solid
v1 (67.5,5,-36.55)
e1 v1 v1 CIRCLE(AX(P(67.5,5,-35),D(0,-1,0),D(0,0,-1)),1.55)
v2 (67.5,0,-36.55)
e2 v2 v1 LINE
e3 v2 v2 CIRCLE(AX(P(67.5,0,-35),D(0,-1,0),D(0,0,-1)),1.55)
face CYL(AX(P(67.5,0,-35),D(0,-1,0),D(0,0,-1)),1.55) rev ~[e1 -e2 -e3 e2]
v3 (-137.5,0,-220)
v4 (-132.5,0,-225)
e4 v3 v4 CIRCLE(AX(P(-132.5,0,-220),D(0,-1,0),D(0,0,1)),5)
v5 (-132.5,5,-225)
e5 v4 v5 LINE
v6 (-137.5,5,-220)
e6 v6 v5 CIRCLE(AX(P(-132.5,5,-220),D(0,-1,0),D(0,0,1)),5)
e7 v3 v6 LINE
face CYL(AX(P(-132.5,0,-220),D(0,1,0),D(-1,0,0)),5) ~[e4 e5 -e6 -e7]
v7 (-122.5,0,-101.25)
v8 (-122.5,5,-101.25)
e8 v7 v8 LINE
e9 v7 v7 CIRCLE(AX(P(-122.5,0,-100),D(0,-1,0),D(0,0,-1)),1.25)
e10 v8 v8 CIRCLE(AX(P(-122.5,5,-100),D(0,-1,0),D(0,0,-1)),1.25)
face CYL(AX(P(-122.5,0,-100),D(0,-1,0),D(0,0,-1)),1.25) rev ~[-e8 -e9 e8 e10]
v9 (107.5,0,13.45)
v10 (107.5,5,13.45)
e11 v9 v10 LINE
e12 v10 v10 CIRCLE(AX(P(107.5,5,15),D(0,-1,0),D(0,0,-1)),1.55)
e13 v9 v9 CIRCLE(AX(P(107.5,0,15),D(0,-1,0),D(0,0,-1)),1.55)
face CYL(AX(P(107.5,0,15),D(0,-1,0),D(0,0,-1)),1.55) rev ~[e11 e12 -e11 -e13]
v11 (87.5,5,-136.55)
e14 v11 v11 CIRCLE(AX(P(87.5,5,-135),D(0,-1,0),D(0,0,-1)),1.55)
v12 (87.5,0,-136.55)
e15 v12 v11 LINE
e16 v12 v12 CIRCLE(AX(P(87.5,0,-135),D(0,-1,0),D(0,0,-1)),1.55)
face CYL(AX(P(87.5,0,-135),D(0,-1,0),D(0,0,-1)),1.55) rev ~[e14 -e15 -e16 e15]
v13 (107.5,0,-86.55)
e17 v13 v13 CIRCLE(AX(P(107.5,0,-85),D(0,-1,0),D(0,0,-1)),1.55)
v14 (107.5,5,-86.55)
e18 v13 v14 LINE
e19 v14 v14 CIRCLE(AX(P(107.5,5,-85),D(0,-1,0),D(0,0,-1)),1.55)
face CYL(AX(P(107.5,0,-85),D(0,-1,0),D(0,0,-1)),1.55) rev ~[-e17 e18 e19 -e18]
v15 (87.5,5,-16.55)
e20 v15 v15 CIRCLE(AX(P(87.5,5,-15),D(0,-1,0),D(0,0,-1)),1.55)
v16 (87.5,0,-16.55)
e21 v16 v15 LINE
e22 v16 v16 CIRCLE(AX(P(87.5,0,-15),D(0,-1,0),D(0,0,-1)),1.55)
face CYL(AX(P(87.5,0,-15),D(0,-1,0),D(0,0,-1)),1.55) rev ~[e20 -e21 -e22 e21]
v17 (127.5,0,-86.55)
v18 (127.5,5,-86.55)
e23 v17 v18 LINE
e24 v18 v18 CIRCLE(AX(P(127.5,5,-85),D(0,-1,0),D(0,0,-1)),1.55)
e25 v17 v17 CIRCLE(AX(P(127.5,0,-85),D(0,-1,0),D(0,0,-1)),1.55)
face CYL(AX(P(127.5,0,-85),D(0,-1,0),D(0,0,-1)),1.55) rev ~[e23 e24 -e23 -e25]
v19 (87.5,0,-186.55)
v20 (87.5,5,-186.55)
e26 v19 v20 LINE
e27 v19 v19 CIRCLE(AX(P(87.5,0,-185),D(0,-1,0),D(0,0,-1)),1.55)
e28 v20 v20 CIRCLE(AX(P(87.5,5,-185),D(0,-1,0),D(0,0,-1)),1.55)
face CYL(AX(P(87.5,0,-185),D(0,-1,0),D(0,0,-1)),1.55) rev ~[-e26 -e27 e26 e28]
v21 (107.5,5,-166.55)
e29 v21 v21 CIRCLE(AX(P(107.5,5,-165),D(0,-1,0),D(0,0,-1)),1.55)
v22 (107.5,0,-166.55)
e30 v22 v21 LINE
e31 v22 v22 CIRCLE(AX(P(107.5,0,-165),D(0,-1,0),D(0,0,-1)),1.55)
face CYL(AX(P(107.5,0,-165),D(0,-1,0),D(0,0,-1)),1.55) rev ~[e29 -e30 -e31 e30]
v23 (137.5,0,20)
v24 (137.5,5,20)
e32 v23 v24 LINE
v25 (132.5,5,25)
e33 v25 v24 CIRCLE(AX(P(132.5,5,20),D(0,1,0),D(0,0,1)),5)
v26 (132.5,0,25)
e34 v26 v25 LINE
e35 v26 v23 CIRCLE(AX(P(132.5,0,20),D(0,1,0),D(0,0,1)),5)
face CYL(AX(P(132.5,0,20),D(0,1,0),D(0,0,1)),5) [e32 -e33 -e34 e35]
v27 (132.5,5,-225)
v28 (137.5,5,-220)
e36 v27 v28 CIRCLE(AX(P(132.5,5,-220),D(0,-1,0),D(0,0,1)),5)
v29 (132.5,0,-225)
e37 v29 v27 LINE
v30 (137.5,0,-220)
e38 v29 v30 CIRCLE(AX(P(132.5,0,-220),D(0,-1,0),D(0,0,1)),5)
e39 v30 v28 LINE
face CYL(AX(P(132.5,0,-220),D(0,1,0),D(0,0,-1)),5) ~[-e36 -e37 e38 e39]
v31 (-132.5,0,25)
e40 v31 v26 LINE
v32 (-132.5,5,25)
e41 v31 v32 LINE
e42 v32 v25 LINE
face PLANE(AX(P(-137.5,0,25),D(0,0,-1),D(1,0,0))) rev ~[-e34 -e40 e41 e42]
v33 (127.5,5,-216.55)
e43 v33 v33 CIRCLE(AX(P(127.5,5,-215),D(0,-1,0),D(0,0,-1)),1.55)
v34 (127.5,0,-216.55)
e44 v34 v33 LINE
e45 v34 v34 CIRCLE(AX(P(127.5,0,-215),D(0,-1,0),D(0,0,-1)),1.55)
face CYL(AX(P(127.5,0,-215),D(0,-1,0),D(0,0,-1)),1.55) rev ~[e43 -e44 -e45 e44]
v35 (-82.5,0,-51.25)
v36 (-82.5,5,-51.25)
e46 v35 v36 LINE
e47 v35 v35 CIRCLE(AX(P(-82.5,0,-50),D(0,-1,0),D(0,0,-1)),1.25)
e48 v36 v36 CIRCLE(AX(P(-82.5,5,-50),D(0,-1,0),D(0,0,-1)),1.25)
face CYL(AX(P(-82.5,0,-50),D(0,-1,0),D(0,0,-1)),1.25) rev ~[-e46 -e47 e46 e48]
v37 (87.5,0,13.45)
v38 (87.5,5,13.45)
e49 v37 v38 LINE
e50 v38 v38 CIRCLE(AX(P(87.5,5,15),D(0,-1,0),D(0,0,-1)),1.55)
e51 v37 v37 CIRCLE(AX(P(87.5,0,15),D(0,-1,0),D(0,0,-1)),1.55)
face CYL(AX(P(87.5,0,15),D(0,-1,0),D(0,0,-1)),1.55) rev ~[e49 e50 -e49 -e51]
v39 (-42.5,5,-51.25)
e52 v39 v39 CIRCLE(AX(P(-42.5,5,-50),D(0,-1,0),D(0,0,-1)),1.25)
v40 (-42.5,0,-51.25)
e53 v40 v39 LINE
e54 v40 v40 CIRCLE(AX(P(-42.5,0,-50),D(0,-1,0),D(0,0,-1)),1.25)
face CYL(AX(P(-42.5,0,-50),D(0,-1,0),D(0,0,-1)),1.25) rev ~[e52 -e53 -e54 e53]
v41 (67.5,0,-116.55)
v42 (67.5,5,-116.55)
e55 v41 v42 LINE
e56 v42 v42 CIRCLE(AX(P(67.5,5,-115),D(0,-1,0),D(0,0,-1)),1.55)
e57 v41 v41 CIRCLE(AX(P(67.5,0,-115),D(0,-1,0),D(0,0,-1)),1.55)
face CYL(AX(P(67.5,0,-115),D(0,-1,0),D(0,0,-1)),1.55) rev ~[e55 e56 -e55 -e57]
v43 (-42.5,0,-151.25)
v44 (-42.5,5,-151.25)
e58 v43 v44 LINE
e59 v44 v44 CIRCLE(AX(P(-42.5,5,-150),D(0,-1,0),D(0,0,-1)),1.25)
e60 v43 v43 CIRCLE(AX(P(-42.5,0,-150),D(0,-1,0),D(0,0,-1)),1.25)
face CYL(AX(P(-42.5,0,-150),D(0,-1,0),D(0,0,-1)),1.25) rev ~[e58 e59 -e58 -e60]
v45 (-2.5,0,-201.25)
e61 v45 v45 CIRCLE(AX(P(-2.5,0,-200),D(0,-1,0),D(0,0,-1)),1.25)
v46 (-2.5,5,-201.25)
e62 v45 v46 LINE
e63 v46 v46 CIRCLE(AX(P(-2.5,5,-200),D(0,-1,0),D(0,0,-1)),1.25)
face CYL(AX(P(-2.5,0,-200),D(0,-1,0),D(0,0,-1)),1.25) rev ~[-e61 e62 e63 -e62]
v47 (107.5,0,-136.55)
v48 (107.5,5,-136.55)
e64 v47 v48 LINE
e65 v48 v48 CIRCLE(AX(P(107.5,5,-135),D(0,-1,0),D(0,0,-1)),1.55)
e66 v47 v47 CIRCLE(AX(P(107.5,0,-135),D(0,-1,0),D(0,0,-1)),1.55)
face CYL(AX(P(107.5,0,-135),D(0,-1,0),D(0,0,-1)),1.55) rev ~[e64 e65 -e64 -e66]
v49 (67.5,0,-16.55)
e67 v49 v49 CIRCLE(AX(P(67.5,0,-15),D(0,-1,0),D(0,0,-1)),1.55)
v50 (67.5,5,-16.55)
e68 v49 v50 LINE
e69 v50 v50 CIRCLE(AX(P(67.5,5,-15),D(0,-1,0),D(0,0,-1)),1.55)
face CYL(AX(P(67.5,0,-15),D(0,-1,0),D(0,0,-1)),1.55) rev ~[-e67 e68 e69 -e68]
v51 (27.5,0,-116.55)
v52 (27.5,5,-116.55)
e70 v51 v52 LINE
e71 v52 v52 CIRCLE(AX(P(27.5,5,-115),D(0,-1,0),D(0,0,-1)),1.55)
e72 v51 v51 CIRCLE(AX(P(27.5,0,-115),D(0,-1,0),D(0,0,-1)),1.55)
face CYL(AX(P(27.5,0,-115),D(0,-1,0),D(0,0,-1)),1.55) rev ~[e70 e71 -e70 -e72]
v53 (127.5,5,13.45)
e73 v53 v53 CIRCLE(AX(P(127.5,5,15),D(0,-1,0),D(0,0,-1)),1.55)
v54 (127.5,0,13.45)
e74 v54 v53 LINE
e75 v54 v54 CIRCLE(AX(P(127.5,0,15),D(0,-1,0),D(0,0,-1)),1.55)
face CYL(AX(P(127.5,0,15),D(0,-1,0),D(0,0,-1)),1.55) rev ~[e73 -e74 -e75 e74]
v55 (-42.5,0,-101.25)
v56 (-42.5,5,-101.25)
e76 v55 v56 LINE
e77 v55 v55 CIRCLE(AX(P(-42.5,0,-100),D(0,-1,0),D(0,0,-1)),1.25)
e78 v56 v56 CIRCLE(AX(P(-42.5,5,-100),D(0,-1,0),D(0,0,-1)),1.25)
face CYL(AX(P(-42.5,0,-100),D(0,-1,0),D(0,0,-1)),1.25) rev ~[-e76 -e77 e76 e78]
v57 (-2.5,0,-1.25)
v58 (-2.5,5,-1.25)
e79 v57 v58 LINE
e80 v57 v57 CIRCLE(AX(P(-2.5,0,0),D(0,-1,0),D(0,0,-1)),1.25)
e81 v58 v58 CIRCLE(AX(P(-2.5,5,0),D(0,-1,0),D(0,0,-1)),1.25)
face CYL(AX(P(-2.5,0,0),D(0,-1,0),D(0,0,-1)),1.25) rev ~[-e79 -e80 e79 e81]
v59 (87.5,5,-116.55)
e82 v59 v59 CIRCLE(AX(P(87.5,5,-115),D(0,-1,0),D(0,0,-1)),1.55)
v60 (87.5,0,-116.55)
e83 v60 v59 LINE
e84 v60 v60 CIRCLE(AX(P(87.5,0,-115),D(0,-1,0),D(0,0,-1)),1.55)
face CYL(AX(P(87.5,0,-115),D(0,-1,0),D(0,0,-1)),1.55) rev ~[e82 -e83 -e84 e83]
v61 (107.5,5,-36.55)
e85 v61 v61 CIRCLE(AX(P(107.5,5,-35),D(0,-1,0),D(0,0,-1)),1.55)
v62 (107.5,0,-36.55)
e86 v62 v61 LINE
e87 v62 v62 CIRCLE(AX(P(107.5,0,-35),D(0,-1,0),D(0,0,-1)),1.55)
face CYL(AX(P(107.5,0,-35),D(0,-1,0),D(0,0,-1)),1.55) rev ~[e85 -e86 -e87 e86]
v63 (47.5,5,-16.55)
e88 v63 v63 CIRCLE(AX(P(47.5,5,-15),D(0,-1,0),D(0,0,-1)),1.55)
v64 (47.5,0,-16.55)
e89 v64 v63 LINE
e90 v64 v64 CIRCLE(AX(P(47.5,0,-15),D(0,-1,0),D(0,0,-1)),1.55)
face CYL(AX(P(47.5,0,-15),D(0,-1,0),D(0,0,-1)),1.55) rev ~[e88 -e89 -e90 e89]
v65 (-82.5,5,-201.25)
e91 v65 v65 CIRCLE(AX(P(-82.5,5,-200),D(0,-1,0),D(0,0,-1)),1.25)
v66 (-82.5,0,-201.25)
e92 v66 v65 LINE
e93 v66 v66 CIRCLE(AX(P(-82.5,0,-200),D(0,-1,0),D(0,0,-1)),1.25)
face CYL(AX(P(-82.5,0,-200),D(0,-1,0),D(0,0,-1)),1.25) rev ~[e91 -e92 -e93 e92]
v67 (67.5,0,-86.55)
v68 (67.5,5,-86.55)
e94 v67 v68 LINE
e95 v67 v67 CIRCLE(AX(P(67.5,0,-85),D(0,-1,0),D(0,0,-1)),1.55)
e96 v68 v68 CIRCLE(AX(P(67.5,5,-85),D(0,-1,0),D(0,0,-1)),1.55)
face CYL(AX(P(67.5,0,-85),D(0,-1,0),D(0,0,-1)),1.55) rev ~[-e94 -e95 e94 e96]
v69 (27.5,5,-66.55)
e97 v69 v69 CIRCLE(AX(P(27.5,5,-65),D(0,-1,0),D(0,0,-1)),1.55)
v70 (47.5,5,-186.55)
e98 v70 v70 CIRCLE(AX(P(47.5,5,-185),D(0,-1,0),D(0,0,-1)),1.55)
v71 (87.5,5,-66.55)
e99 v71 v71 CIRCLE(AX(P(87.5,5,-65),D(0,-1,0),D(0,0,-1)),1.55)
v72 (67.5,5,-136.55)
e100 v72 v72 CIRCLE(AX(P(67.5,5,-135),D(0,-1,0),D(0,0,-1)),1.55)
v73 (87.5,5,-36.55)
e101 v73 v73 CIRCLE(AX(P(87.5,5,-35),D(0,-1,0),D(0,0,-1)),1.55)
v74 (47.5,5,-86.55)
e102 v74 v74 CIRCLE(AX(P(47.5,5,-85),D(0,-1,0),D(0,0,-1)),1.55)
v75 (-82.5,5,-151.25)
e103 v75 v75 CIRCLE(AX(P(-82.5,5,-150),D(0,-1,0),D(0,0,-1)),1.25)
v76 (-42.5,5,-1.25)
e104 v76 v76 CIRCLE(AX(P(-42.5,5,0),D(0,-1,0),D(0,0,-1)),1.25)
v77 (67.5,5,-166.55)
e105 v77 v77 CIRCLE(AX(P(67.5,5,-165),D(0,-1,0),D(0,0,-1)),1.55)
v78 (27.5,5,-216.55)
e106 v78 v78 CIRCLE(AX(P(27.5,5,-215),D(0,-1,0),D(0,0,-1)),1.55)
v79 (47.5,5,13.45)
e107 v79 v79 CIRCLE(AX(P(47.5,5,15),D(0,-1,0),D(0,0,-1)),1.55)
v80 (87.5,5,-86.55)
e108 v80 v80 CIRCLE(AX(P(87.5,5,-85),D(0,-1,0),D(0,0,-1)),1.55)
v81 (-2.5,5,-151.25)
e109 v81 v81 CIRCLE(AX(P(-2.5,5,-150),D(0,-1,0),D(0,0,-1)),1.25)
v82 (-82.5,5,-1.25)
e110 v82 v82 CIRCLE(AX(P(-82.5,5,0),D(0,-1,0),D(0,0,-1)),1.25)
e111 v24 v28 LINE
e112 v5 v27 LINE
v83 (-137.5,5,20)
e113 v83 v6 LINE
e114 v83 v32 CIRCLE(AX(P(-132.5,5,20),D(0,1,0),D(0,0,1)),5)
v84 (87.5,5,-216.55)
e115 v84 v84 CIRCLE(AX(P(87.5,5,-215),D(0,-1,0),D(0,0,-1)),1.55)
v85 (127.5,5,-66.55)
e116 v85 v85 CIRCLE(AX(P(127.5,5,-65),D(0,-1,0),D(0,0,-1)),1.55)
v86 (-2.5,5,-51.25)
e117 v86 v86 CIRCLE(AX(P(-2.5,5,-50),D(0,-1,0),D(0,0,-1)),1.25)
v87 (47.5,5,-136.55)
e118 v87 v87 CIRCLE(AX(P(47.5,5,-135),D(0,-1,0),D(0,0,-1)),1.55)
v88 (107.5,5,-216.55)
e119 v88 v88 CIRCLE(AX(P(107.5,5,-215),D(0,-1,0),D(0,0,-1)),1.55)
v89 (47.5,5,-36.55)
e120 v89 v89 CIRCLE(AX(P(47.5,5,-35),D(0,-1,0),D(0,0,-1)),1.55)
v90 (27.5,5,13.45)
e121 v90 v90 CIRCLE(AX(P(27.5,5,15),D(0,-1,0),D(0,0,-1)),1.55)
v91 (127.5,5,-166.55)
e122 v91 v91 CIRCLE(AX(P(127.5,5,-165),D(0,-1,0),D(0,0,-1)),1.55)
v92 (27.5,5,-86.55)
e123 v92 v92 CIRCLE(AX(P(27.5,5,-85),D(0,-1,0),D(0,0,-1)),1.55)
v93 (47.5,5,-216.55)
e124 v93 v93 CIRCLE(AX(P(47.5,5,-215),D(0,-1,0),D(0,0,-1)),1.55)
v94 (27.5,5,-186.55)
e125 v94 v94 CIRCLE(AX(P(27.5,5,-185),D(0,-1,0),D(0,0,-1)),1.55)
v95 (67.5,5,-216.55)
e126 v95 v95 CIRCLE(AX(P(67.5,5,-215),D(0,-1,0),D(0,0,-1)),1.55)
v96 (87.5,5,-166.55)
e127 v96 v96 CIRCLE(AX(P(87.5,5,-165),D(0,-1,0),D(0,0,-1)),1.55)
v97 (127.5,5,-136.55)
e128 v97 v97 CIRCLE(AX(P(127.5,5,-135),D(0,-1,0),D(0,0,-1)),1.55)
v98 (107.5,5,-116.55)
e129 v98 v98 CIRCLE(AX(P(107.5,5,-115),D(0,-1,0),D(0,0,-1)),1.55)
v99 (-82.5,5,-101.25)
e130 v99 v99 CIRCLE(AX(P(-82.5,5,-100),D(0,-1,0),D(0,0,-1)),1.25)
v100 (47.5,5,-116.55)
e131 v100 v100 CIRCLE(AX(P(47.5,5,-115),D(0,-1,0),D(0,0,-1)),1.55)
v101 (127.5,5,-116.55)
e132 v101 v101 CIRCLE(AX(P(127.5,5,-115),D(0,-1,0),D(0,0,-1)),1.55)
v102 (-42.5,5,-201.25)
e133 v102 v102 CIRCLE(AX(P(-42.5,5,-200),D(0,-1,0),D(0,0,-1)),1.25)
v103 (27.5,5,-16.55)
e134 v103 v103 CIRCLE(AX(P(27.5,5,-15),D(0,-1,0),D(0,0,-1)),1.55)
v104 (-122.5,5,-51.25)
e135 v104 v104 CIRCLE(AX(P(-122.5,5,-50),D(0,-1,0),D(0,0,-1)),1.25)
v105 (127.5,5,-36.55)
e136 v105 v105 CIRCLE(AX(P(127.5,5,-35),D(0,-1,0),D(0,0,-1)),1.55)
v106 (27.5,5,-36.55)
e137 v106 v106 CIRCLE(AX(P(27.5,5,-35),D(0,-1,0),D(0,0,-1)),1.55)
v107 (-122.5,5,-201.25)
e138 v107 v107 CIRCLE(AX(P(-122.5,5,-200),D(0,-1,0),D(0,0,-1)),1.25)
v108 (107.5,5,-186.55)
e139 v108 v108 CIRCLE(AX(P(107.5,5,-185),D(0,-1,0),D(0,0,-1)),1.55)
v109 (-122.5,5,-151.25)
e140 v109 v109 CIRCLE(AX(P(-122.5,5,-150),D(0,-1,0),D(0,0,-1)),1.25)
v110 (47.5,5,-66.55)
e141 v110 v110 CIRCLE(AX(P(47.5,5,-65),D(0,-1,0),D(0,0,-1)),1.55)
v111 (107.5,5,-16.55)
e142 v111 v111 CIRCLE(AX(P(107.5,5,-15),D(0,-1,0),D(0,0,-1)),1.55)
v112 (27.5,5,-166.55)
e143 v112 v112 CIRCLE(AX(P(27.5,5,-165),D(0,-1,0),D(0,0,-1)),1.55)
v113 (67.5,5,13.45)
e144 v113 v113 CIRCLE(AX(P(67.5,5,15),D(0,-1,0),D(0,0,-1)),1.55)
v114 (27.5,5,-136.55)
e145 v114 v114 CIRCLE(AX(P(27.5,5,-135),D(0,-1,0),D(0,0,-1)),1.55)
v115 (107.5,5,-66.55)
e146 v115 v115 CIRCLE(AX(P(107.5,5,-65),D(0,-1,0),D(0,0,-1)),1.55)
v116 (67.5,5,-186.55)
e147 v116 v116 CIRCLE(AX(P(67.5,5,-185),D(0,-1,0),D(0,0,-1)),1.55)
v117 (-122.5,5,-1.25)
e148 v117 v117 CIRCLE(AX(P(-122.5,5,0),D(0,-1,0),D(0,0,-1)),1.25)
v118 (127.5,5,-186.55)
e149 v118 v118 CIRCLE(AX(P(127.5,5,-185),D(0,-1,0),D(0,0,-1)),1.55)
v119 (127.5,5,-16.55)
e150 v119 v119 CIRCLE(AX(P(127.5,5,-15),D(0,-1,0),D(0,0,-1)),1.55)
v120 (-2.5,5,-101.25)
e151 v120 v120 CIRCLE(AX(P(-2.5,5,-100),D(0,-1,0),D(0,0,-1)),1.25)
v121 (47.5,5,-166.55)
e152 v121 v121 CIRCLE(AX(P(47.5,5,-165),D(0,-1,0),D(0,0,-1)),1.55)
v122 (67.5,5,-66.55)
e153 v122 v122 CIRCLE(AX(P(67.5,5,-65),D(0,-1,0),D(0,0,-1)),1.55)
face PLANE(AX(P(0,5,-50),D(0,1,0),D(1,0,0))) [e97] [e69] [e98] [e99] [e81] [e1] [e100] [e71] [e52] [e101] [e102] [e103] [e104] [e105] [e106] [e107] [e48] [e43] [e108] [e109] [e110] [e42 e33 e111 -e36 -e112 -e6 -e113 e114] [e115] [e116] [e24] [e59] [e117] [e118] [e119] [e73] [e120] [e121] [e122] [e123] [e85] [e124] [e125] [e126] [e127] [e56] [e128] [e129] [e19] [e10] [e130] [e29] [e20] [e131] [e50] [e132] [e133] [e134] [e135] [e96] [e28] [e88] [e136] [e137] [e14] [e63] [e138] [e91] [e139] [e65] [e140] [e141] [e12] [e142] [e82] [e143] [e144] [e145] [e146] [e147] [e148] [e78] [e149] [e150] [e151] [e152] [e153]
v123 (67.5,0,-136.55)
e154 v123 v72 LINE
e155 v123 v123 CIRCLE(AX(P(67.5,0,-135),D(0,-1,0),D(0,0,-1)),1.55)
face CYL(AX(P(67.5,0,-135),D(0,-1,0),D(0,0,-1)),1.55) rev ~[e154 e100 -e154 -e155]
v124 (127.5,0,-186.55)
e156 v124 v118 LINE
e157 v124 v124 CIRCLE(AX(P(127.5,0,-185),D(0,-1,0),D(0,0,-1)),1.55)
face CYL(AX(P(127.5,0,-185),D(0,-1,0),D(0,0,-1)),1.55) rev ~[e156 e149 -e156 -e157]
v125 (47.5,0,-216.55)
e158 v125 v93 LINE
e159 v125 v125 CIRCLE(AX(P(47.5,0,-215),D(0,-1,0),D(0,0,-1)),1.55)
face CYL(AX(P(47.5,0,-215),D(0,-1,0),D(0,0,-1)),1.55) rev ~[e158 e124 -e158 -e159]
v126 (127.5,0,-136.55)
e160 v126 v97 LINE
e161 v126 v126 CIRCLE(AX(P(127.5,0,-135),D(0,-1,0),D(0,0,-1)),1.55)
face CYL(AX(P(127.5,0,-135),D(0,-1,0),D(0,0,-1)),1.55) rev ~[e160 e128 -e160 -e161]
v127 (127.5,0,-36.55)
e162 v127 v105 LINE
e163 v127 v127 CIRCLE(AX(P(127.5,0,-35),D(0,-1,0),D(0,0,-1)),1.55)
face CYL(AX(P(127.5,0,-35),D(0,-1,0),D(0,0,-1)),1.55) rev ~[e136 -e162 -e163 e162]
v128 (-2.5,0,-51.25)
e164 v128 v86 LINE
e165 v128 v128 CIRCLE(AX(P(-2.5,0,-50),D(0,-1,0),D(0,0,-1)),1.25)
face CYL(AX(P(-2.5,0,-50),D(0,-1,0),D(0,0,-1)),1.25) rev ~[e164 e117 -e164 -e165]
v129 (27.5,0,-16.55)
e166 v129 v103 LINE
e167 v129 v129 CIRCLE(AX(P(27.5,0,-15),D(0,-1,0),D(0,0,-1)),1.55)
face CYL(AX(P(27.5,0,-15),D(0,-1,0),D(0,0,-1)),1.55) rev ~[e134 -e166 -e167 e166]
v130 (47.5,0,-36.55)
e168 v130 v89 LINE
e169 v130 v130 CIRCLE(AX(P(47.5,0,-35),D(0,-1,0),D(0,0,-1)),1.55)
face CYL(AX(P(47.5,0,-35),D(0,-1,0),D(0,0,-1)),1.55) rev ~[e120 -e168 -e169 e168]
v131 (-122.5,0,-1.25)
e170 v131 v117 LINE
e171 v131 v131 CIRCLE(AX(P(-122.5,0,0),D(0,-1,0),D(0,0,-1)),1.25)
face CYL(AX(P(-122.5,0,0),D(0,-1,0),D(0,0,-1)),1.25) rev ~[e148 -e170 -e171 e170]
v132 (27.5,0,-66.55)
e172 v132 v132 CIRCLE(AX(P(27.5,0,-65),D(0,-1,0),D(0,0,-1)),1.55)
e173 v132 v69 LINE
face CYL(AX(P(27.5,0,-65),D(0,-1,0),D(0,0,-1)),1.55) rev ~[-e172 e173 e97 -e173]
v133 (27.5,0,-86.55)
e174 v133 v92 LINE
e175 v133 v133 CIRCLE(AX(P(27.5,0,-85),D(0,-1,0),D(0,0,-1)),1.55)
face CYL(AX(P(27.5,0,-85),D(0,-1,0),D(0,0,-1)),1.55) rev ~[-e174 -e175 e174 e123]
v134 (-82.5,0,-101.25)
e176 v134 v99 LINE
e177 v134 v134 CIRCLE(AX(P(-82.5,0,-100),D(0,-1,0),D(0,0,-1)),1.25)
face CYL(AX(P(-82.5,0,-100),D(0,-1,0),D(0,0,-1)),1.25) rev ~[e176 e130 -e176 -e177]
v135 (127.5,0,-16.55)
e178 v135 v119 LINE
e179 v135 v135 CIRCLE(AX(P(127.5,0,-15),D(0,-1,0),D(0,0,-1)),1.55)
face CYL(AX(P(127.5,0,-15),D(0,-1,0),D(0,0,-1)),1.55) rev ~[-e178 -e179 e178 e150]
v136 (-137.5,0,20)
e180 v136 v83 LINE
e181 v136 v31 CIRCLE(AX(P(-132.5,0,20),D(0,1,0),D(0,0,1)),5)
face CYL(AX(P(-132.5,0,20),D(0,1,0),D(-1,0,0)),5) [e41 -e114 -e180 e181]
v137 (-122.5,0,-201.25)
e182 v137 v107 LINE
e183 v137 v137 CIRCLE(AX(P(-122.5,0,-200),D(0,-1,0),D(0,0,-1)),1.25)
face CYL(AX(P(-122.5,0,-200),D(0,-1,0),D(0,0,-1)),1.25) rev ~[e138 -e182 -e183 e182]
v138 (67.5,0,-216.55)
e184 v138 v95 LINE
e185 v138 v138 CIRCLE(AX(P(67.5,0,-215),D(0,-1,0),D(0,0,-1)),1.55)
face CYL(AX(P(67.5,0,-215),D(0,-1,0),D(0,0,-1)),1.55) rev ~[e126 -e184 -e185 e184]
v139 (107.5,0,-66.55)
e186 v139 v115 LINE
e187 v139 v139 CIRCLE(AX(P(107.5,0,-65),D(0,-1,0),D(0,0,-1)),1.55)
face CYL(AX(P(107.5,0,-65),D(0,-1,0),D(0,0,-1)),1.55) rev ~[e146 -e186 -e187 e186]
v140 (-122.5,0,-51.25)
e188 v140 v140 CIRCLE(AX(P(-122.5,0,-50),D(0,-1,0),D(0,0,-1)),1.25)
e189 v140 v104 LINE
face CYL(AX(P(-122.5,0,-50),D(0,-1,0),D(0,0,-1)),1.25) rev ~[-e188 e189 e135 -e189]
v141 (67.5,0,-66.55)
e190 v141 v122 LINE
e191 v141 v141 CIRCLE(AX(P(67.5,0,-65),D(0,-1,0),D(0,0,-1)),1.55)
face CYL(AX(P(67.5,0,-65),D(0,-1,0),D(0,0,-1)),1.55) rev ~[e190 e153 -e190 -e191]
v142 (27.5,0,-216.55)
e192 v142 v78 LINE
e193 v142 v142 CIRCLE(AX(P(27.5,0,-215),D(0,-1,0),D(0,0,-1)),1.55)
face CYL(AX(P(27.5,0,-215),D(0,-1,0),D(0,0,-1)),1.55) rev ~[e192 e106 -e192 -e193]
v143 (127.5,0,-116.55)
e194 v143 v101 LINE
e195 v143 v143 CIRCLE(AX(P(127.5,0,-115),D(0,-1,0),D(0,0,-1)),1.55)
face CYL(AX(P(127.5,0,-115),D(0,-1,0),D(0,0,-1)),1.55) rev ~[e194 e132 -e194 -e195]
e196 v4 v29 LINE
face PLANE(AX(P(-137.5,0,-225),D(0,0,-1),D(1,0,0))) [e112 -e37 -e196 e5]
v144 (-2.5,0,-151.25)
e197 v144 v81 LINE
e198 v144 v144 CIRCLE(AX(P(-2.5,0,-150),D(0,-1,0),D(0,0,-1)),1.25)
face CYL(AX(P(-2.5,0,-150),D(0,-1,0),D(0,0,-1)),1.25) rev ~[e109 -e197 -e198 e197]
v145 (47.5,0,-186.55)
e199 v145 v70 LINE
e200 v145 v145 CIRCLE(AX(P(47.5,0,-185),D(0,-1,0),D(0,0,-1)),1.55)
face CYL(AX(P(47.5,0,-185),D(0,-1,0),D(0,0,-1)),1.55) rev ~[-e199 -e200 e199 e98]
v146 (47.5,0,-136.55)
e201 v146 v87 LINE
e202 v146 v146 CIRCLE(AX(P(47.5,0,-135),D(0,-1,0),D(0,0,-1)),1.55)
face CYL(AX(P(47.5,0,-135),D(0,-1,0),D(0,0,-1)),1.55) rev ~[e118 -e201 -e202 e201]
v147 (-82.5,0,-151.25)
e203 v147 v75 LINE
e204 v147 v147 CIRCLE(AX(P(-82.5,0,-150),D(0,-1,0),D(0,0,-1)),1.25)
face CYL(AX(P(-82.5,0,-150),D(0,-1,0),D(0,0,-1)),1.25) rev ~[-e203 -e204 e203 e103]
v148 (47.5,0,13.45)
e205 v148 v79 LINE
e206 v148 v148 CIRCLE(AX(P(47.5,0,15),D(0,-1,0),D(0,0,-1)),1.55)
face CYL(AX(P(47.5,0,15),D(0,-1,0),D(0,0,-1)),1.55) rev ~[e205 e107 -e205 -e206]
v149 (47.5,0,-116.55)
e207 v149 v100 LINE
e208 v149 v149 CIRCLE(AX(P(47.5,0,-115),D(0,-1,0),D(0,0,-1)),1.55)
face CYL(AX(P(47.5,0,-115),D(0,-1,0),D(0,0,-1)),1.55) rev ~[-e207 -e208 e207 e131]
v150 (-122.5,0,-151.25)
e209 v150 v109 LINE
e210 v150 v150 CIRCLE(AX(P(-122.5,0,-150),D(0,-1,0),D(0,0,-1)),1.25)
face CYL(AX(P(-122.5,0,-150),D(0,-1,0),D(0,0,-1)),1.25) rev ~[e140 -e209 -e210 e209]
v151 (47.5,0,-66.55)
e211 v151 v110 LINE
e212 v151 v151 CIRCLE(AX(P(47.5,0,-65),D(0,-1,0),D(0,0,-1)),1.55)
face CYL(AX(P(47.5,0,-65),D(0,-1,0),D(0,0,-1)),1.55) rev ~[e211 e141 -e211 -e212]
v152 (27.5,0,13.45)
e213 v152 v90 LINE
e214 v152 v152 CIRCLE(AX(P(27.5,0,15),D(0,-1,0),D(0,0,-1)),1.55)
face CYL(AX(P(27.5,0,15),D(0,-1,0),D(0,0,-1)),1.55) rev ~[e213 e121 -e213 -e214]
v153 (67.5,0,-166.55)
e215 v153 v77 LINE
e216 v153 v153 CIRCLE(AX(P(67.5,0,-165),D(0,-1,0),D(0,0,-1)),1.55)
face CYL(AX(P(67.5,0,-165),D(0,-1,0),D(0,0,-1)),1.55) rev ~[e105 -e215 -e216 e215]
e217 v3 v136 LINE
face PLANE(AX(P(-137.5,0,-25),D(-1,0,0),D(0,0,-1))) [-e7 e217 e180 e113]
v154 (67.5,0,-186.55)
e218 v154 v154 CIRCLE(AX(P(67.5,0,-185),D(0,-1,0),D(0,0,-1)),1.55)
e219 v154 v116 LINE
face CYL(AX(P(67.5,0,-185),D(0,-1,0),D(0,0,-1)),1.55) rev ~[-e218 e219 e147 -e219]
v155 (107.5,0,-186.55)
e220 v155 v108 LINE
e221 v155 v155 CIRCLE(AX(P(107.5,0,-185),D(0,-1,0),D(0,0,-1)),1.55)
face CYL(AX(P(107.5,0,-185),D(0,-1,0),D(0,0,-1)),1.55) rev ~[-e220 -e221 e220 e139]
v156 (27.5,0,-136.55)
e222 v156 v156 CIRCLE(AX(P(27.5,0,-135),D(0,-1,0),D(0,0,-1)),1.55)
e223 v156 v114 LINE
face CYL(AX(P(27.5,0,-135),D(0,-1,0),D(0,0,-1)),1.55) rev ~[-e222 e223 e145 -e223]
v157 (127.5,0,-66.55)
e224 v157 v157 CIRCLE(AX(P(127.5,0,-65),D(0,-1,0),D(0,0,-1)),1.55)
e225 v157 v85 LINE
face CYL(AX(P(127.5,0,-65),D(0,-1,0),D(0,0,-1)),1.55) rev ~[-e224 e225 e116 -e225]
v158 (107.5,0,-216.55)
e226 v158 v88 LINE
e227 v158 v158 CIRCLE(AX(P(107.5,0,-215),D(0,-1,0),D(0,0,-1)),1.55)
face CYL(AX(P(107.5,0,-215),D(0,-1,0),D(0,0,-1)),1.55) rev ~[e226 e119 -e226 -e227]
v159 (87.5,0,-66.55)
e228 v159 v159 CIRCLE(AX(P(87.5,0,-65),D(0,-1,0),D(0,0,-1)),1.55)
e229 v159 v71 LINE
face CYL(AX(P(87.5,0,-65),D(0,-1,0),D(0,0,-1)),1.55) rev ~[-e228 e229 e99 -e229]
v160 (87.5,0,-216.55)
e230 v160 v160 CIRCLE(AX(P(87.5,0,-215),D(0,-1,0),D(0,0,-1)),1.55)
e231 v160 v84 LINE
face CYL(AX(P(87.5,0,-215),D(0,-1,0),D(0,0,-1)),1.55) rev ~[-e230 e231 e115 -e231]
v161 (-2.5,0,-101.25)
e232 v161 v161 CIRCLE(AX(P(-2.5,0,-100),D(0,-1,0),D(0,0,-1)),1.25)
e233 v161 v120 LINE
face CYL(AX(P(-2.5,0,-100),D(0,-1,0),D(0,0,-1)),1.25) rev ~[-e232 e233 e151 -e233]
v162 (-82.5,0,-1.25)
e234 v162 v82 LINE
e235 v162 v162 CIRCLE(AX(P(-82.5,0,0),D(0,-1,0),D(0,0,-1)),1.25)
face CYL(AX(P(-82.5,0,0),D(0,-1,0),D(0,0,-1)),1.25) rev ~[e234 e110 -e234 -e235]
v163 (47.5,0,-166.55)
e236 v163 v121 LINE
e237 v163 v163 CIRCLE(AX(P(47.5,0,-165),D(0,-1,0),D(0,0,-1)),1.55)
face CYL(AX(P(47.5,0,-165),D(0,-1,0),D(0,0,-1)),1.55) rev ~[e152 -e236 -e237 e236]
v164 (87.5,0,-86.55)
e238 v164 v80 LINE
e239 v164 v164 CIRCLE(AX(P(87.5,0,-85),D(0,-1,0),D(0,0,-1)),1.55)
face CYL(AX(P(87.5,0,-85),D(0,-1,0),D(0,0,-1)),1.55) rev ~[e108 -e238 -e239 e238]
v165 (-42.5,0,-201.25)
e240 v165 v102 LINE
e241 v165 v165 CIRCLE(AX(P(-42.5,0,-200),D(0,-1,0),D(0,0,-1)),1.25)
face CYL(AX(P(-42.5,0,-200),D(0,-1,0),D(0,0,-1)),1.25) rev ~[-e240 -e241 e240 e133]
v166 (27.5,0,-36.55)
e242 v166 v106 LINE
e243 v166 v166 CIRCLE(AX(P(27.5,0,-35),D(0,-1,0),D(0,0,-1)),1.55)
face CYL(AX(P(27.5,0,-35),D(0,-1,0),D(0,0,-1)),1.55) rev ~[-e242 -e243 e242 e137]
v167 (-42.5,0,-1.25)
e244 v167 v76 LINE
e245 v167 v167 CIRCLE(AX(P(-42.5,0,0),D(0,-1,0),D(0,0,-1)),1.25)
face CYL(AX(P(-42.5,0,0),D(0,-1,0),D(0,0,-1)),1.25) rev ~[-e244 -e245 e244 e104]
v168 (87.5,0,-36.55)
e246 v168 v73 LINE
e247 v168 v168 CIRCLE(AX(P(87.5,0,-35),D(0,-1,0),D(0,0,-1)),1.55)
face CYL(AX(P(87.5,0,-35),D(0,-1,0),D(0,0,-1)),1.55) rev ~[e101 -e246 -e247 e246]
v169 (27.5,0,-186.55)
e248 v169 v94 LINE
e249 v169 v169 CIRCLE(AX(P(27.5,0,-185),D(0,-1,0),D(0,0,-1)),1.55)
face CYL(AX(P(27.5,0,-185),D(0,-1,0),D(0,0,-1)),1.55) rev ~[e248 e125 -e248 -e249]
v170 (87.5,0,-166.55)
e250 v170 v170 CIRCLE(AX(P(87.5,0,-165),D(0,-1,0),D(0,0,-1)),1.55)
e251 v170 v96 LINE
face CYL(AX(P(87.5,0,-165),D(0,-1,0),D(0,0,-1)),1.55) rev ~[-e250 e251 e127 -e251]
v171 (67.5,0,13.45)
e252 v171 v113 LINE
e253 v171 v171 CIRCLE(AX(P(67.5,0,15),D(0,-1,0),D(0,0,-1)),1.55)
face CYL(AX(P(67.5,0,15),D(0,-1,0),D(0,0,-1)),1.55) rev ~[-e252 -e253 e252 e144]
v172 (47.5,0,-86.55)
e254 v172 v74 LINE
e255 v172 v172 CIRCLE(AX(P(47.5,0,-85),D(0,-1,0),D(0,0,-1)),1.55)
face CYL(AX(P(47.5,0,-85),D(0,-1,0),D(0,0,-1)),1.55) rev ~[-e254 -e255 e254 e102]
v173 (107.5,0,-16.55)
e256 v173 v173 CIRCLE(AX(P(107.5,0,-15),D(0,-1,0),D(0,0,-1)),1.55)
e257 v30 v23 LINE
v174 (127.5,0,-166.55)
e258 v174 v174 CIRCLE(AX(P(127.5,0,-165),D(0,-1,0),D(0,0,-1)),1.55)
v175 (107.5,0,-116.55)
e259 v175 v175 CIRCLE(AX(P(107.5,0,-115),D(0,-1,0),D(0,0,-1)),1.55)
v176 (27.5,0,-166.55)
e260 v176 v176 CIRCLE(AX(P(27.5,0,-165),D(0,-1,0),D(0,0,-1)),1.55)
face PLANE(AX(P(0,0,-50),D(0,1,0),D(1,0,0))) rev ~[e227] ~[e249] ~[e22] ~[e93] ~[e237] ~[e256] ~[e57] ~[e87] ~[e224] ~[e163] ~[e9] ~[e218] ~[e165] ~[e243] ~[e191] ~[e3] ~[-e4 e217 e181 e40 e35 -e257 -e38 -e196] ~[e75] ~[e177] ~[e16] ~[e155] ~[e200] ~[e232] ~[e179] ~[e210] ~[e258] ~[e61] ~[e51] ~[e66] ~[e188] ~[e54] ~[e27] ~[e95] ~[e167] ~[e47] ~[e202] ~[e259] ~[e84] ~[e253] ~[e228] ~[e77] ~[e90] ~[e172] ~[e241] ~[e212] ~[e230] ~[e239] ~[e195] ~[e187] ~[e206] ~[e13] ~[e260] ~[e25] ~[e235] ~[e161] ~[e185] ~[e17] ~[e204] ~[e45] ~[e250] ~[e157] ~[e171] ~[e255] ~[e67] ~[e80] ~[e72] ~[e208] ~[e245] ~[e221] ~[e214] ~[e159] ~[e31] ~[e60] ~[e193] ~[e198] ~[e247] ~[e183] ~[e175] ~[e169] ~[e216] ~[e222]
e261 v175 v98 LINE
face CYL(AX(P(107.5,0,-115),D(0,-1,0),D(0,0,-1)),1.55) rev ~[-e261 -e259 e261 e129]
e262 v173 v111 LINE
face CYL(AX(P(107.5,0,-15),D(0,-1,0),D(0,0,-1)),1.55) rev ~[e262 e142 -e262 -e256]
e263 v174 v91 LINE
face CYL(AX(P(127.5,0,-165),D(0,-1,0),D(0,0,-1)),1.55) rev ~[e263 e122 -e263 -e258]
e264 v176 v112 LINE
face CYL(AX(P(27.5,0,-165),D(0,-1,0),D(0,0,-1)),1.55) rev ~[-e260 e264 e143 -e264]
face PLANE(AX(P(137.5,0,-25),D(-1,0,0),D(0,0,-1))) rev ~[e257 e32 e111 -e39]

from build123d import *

# Parameters (mm, degrees)
SKETCH2_W                  = 275
SKETCH2_H                  = 50
BOSS_EXTRUDE1_DEPTH        = 5
SKETCH3_R                  = 1.25
CUT_EXTRUDE1_DEPTH         = 140.843662709
SKETCH5_R                  = 1.55
CUT_EXTRUDE3_DEPTH         = 140.843662709
LPATTERN1_COUNT            = 6
LPATTERN1_PITCH            = 20
LPATTERN3_COUNT            = 5
LPATTERN3_PITCH            = 50
LPATTERN3_COPY_1_SKETCH_R  = 1.55
LPATTERN3_COPY_1_DEPTH     = 140.843662709
LPATTERN3_COPY_2_SKETCH_R  = 1.55
LPATTERN3_COPY_2_DEPTH     = 140.843662709
LPATTERN3_COPY_3_SKETCH_R  = 1.55
LPATTERN3_COPY_3_DEPTH     = 140.843662709
LPATTERN3_COPY_4_SKETCH_R  = 1.55
LPATTERN3_COPY_4_DEPTH     = 140.843662709
LPATTERN3_COPY_5_SKETCH_R  = 1.55
LPATTERN3_COPY_5_DEPTH     = 140.843662709
LPATTERN3_COPY_6_SKETCH_R  = 1.55
LPATTERN3_COPY_6_DEPTH     = 140.843662709
LPATTERN3_COPY_7_SKETCH_R  = 1.55
LPATTERN3_COPY_7_DEPTH     = 140.843662709
LPATTERN3_COPY_8_SKETCH_R  = 1.55
LPATTERN3_COPY_8_DEPTH     = 140.843662709
LPATTERN3_COPY_9_SKETCH_R  = 1.55
LPATTERN3_COPY_9_DEPTH     = 140.843662709
LPATTERN3_COPY_10_SKETCH_R = 1.55
LPATTERN3_COPY_10_DEPTH    = 140.843662709
LPATTERN3_COPY_11_SKETCH_R = 1.55
LPATTERN3_COPY_11_DEPTH    = 140.843662709
LPATTERN3_COPY_12_SKETCH_R = 1.55
LPATTERN3_COPY_12_DEPTH    = 140.843662709
LPATTERN3_COPY_13_SKETCH_R = 1.55
LPATTERN3_COPY_13_DEPTH    = 140.843662709
LPATTERN3_COPY_14_SKETCH_R = 1.55
LPATTERN3_COPY_14_DEPTH    = 140.843662709
LPATTERN3_COPY_15_SKETCH_R = 1.55
LPATTERN3_COPY_15_DEPTH    = 140.843662709
LPATTERN3_COPY_16_SKETCH_R = 1.55
LPATTERN3_COPY_16_DEPTH    = 140.843662709
LPATTERN3_COPY_17_SKETCH_R = 1.55
LPATTERN3_COPY_17_DEPTH    = 140.843662709
LPATTERN3_COPY_18_SKETCH_R = 1.55
LPATTERN3_COPY_18_DEPTH    = 140.843662709
LPATTERN3_COPY_19_SKETCH_R = 1.55
LPATTERN3_COPY_19_DEPTH    = 140.843662709
LPATTERN3_COPY_20_SKETCH_R = 1.55
LPATTERN3_COPY_20_DEPTH    = 140.843662709
FILLET1_R                  = 5


with BuildPart() as part:
    # Sketch2 → Boss-Extrude1 (new body)
    with BuildSketch(Plane(origin=(0, 0, 0), x_dir=(1, 0, 0), z_dir=(0, 1, 0))):
        Rectangle(SKETCH2_W, SKETCH2_H)
    boss_extrude1 = extrude(amount=BOSS_EXTRUDE1_DEPTH)

    # Sketch3 → Cut-Extrude1 (cut, through all)
    with BuildSketch(Plane.XZ):
        with Locations(Location((-122.5, 0, 0), (0, 0, 270))):
            Circle(SKETCH3_R)
        with Locations(Location((-82.5, 0, 0), (0, 0, 270))):
            Circle(SKETCH3_R)
        with Locations(Location((-42.5, 0, 0), (0, 0, 270))):
            Circle(SKETCH3_R)
        with Locations(Location((-2.5, 0, 0), (0, 0, 270))):
            Circle(SKETCH3_R)
    cut_extrude1 = extrude(amount=-CUT_EXTRUDE1_DEPTH, mode=Mode.SUBTRACT)

    # Sketch5 → Cut-Extrude3 (cut, through all)
    with BuildSketch(Plane.XZ):
        with Locations(Location((127.5, 15, 0), (0, 0, 270))):
            Circle(SKETCH5_R)
        with Locations(Location((127.5, -15, 0), (0, 0, 270))):
            Circle(SKETCH5_R)
    cut_extrude3 = extrude(amount=-CUT_EXTRUDE3_DEPTH, mode=Mode.SUBTRACT)

    # LPattern1: Cut-Extrude3 ×6
    with Locations(*[(-i * LPATTERN1_PITCH, 0, 0) for i in range(1, LPATTERN1_COUNT)]):
        add(cut_extrude3, mode=Mode.SUBTRACT)

    # LPattern3: Boss-Extrude1, Cut-Extrude1, Cut-Extrude3 ×5
    with Locations(*[(0, 0, -i * LPATTERN3_PITCH) for i in range(1, LPATTERN3_COUNT)]):
        add(boss_extrude1)
        add(cut_extrude1, mode=Mode.SUBTRACT)
        add(cut_extrude3, mode=Mode.SUBTRACT)

    # LPattern3 copy 1 sketch → LPattern3 copy 1 (cut, through all)
    with BuildSketch(Plane(origin=(-20, 0, -50), x_dir=(1, 0, 0), z_dir=(0, -1, 0))):
        with Locations(Location((127.5, 15, 0), (0, 0, 270))):
            Circle(LPATTERN3_COPY_1_SKETCH_R)
        with Locations(Location((127.5, -15, 0), (0, 0, 270))):
            Circle(LPATTERN3_COPY_1_SKETCH_R)
    extrude(amount=-LPATTERN3_COPY_1_DEPTH, mode=Mode.SUBTRACT)

    # LPattern3 copy 2 sketch → LPattern3 copy 2 (cut, through all)
    with BuildSketch(Plane(origin=(-20, 0, -100), x_dir=(1, 0, 0), z_dir=(0, -1, 0))):
        with Locations(Location((127.5, 15, 0), (0, 0, 270))):
            Circle(LPATTERN3_COPY_2_SKETCH_R)
        with Locations(Location((127.5, -15, 0), (0, 0, 270))):
            Circle(LPATTERN3_COPY_2_SKETCH_R)
    extrude(amount=-LPATTERN3_COPY_2_DEPTH, mode=Mode.SUBTRACT)

    # LPattern3 copy 3 sketch → LPattern3 copy 3 (cut, through all)
    with BuildSketch(Plane(origin=(-20, 0, -150), x_dir=(1, 0, 0), z_dir=(0, -1, 0))):
        with Locations(Location((127.5, 15, 0), (0, 0, 270))):
            Circle(LPATTERN3_COPY_3_SKETCH_R)
        with Locations(Location((127.5, -15, 0), (0, 0, 270))):
            Circle(LPATTERN3_COPY_3_SKETCH_R)
    extrude(amount=-LPATTERN3_COPY_3_DEPTH, mode=Mode.SUBTRACT)

    # LPattern3 copy 4 sketch → LPattern3 copy 4 (cut, through all)
    with BuildSketch(Plane(origin=(-20, 0, -200), x_dir=(1, 0, 0), z_dir=(0, -1, 0))):
        with Locations(Location((127.5, 15, 0), (0, 0, 270))):
            Circle(LPATTERN3_COPY_4_SKETCH_R)
        with Locations(Location((127.5, -15, 0), (0, 0, 270))):
            Circle(LPATTERN3_COPY_4_SKETCH_R)
    extrude(amount=-LPATTERN3_COPY_4_DEPTH, mode=Mode.SUBTRACT)

    # LPattern3 copy 5 sketch → LPattern3 copy 5 (cut, through all)
    with BuildSketch(Plane(origin=(-40, 0, -50), x_dir=(1, 0, 0), z_dir=(0, -1, 0))):
        with Locations(Location((127.5, 15, 0), (0, 0, 270))):
            Circle(LPATTERN3_COPY_5_SKETCH_R)
        with Locations(Location((127.5, -15, 0), (0, 0, 270))):
            Circle(LPATTERN3_COPY_5_SKETCH_R)
    extrude(amount=-LPATTERN3_COPY_5_DEPTH, mode=Mode.SUBTRACT)

    # LPattern3 copy 6 sketch → LPattern3 copy 6 (cut, through all)
    with BuildSketch(Plane(origin=(-40, 0, -100), x_dir=(1, 0, 0), z_dir=(0, -1, 0))):
        with Locations(Location((127.5, 15, 0), (0, 0, 270))):
            Circle(LPATTERN3_COPY_6_SKETCH_R)
        with Locations(Location((127.5, -15, 0), (0, 0, 270))):
            Circle(LPATTERN3_COPY_6_SKETCH_R)
    extrude(amount=-LPATTERN3_COPY_6_DEPTH, mode=Mode.SUBTRACT)

    # LPattern3 copy 7 sketch → LPattern3 copy 7 (cut, through all)
    with BuildSketch(Plane(origin=(-40, 0, -150), x_dir=(1, 0, 0), z_dir=(0, -1, 0))):
        with Locations(Location((127.5, 15, 0), (0, 0, 270))):
            Circle(LPATTERN3_COPY_7_SKETCH_R)
        with Locations(Location((127.5, -15, 0), (0, 0, 270))):
            Circle(LPATTERN3_COPY_7_SKETCH_R)
    extrude(amount=-LPATTERN3_COPY_7_DEPTH, mode=Mode.SUBTRACT)

    # LPattern3 copy 8 sketch → LPattern3 copy 8 (cut, through all)
    with BuildSketch(Plane(origin=(-40, 0, -200), x_dir=(1, 0, 0), z_dir=(0, -1, 0))):
        with Locations(Location((127.5, 15, 0), (0, 0, 270))):
            Circle(LPATTERN3_COPY_8_SKETCH_R)
        with Locations(Location((127.5, -15, 0), (0, 0, 270))):
            Circle(LPATTERN3_COPY_8_SKETCH_R)
    extrude(amount=-LPATTERN3_COPY_8_DEPTH, mode=Mode.SUBTRACT)

    # LPattern3 copy 9 sketch → LPattern3 copy 9 (cut, through all)
    with BuildSketch(Plane(origin=(-60, 0, -50), x_dir=(1, 0, 0), z_dir=(0, -1, 0))):
        with Locations(Location((127.5, 15, 0), (0, 0, 270))):
            Circle(LPATTERN3_COPY_9_SKETCH_R)
        with Locations(Location((127.5, -15, 0), (0, 0, 270))):
            Circle(LPATTERN3_COPY_9_SKETCH_R)
    extrude(amount=-LPATTERN3_COPY_9_DEPTH, mode=Mode.SUBTRACT)

    # LPattern3 copy 10 sketch → LPattern3 copy 10 (cut, through all)
    with BuildSketch(Plane(origin=(-60, 0, -100), x_dir=(1, 0, 0), z_dir=(0, -1, 0))):
        with Locations(Location((127.5, 15, 0), (0, 0, 270))):
            Circle(LPATTERN3_COPY_10_SKETCH_R)
        with Locations(Location((127.5, -15, 0), (0, 0, 270))):
            Circle(LPATTERN3_COPY_10_SKETCH_R)
    extrude(amount=-LPATTERN3_COPY_10_DEPTH, mode=Mode.SUBTRACT)

    # LPattern3 copy 11 sketch → LPattern3 copy 11 (cut, through all)
    with BuildSketch(Plane(origin=(-60, 0, -150), x_dir=(1, 0, 0), z_dir=(0, -1, 0))):
        with Locations(Location((127.5, 15, 0), (0, 0, 270))):
            Circle(LPATTERN3_COPY_11_SKETCH_R)
        with Locations(Location((127.5, -15, 0), (0, 0, 270))):
            Circle(LPATTERN3_COPY_11_SKETCH_R)
    extrude(amount=-LPATTERN3_COPY_11_DEPTH, mode=Mode.SUBTRACT)

    # LPattern3 copy 12 sketch → LPattern3 copy 12 (cut, through all)
    with BuildSketch(Plane(origin=(-60, 0, -200), x_dir=(1, 0, 0), z_dir=(0, -1, 0))):
        with Locations(Location((127.5, 15, 0), (0, 0, 270))):
            Circle(LPATTERN3_COPY_12_SKETCH_R)
        with Locations(Location((127.5, -15, 0), (0, 0, 270))):
            Circle(LPATTERN3_COPY_12_SKETCH_R)
    extrude(amount=-LPATTERN3_COPY_12_DEPTH, mode=Mode.SUBTRACT)

    # LPattern3 copy 13 sketch → LPattern3 copy 13 (cut, through all)
    with BuildSketch(Plane(origin=(-80, 0, -50), x_dir=(1, 0, 0), z_dir=(0, -1, 0))):
        with Locations(Location((127.5, 15, 0), (0, 0, 270))):
            Circle(LPATTERN3_COPY_13_SKETCH_R)
        with Locations(Location((127.5, -15, 0), (0, 0, 270))):
            Circle(LPATTERN3_COPY_13_SKETCH_R)
    extrude(amount=-LPATTERN3_COPY_13_DEPTH, mode=Mode.SUBTRACT)

    # LPattern3 copy 14 sketch → LPattern3 copy 14 (cut, through all)
    with BuildSketch(Plane(origin=(-80, 0, -100), x_dir=(1, 0, 0), z_dir=(0, -1, 0))):
        with Locations(Location((127.5, 15, 0), (0, 0, 270))):
            Circle(LPATTERN3_COPY_14_SKETCH_R)
        with Locations(Location((127.5, -15, 0), (0, 0, 270))):
            Circle(LPATTERN3_COPY_14_SKETCH_R)
    extrude(amount=-LPATTERN3_COPY_14_DEPTH, mode=Mode.SUBTRACT)

    # LPattern3 copy 15 sketch → LPattern3 copy 15 (cut, through all)
    with BuildSketch(Plane(origin=(-80, 0, -150), x_dir=(1, 0, 0), z_dir=(0, -1, 0))):
        with Locations(Location((127.5, 15, 0), (0, 0, 270))):
            Circle(LPATTERN3_COPY_15_SKETCH_R)
        with Locations(Location((127.5, -15, 0), (0, 0, 270))):
            Circle(LPATTERN3_COPY_15_SKETCH_R)
    extrude(amount=-LPATTERN3_COPY_15_DEPTH, mode=Mode.SUBTRACT)

    # LPattern3 copy 16 sketch → LPattern3 copy 16 (cut, through all)
    with BuildSketch(Plane(origin=(-80, 0, -200), x_dir=(1, 0, 0), z_dir=(0, -1, 0))):
        with Locations(Location((127.5, 15, 0), (0, 0, 270))):
            Circle(LPATTERN3_COPY_16_SKETCH_R)
        with Locations(Location((127.5, -15, 0), (0, 0, 270))):
            Circle(LPATTERN3_COPY_16_SKETCH_R)
    extrude(amount=-LPATTERN3_COPY_16_DEPTH, mode=Mode.SUBTRACT)

    # LPattern3 copy 17 sketch → LPattern3 copy 17 (cut, through all)
    with BuildSketch(Plane(origin=(-100, 0, -50), x_dir=(1, 0, 0), z_dir=(0, -1, 0))):
        with Locations(Location((127.5, 15, 0), (0, 0, 270))):
            Circle(LPATTERN3_COPY_17_SKETCH_R)
        with Locations(Location((127.5, -15, 0), (0, 0, 270))):
            Circle(LPATTERN3_COPY_17_SKETCH_R)
    extrude(amount=-LPATTERN3_COPY_17_DEPTH, mode=Mode.SUBTRACT)

    # LPattern3 copy 18 sketch → LPattern3 copy 18 (cut, through all)
    with BuildSketch(Plane(origin=(-100, 0, -100), x_dir=(1, 0, 0), z_dir=(0, -1, 0))):
        with Locations(Location((127.5, 15, 0), (0, 0, 270))):
            Circle(LPATTERN3_COPY_18_SKETCH_R)
        with Locations(Location((127.5, -15, 0), (0, 0, 270))):
            Circle(LPATTERN3_COPY_18_SKETCH_R)
    extrude(amount=-LPATTERN3_COPY_18_DEPTH, mode=Mode.SUBTRACT)

    # LPattern3 copy 19 sketch → LPattern3 copy 19 (cut, through all)
    with BuildSketch(Plane(origin=(-100, 0, -150), x_dir=(1, 0, 0), z_dir=(0, -1, 0))):
        with Locations(Location((127.5, 15, 0), (0, 0, 270))):
            Circle(LPATTERN3_COPY_19_SKETCH_R)
        with Locations(Location((127.5, -15, 0), (0, 0, 270))):
            Circle(LPATTERN3_COPY_19_SKETCH_R)
    extrude(amount=-LPATTERN3_COPY_19_DEPTH, mode=Mode.SUBTRACT)

    # LPattern3 copy 20 sketch → LPattern3 copy 20 (cut, through all)
    with BuildSketch(Plane(origin=(-100, 0, -200), x_dir=(1, 0, 0), z_dir=(0, -1, 0))):
        with Locations(Location((127.5, 15, 0), (0, 0, 270))):
            Circle(LPATTERN3_COPY_20_SKETCH_R)
        with Locations(Location((127.5, -15, 0), (0, 0, 270))):
            Circle(LPATTERN3_COPY_20_SKETCH_R)
    extrude(amount=-LPATTERN3_COPY_20_DEPTH, mode=Mode.SUBTRACT)

    # Fillet1
    fillet1_edges = [part.edges().sort_by_distance(p)[0] for p in [
        (-137.5, 2.5, -225),
        (137.5, 2.5, -225),
        (137.5, 2.5, 25),
        (-137.5, 2.5, 25),
    ]]
    fillet(fillet1_edges, radius=FILLET1_R)


solid = part.part
